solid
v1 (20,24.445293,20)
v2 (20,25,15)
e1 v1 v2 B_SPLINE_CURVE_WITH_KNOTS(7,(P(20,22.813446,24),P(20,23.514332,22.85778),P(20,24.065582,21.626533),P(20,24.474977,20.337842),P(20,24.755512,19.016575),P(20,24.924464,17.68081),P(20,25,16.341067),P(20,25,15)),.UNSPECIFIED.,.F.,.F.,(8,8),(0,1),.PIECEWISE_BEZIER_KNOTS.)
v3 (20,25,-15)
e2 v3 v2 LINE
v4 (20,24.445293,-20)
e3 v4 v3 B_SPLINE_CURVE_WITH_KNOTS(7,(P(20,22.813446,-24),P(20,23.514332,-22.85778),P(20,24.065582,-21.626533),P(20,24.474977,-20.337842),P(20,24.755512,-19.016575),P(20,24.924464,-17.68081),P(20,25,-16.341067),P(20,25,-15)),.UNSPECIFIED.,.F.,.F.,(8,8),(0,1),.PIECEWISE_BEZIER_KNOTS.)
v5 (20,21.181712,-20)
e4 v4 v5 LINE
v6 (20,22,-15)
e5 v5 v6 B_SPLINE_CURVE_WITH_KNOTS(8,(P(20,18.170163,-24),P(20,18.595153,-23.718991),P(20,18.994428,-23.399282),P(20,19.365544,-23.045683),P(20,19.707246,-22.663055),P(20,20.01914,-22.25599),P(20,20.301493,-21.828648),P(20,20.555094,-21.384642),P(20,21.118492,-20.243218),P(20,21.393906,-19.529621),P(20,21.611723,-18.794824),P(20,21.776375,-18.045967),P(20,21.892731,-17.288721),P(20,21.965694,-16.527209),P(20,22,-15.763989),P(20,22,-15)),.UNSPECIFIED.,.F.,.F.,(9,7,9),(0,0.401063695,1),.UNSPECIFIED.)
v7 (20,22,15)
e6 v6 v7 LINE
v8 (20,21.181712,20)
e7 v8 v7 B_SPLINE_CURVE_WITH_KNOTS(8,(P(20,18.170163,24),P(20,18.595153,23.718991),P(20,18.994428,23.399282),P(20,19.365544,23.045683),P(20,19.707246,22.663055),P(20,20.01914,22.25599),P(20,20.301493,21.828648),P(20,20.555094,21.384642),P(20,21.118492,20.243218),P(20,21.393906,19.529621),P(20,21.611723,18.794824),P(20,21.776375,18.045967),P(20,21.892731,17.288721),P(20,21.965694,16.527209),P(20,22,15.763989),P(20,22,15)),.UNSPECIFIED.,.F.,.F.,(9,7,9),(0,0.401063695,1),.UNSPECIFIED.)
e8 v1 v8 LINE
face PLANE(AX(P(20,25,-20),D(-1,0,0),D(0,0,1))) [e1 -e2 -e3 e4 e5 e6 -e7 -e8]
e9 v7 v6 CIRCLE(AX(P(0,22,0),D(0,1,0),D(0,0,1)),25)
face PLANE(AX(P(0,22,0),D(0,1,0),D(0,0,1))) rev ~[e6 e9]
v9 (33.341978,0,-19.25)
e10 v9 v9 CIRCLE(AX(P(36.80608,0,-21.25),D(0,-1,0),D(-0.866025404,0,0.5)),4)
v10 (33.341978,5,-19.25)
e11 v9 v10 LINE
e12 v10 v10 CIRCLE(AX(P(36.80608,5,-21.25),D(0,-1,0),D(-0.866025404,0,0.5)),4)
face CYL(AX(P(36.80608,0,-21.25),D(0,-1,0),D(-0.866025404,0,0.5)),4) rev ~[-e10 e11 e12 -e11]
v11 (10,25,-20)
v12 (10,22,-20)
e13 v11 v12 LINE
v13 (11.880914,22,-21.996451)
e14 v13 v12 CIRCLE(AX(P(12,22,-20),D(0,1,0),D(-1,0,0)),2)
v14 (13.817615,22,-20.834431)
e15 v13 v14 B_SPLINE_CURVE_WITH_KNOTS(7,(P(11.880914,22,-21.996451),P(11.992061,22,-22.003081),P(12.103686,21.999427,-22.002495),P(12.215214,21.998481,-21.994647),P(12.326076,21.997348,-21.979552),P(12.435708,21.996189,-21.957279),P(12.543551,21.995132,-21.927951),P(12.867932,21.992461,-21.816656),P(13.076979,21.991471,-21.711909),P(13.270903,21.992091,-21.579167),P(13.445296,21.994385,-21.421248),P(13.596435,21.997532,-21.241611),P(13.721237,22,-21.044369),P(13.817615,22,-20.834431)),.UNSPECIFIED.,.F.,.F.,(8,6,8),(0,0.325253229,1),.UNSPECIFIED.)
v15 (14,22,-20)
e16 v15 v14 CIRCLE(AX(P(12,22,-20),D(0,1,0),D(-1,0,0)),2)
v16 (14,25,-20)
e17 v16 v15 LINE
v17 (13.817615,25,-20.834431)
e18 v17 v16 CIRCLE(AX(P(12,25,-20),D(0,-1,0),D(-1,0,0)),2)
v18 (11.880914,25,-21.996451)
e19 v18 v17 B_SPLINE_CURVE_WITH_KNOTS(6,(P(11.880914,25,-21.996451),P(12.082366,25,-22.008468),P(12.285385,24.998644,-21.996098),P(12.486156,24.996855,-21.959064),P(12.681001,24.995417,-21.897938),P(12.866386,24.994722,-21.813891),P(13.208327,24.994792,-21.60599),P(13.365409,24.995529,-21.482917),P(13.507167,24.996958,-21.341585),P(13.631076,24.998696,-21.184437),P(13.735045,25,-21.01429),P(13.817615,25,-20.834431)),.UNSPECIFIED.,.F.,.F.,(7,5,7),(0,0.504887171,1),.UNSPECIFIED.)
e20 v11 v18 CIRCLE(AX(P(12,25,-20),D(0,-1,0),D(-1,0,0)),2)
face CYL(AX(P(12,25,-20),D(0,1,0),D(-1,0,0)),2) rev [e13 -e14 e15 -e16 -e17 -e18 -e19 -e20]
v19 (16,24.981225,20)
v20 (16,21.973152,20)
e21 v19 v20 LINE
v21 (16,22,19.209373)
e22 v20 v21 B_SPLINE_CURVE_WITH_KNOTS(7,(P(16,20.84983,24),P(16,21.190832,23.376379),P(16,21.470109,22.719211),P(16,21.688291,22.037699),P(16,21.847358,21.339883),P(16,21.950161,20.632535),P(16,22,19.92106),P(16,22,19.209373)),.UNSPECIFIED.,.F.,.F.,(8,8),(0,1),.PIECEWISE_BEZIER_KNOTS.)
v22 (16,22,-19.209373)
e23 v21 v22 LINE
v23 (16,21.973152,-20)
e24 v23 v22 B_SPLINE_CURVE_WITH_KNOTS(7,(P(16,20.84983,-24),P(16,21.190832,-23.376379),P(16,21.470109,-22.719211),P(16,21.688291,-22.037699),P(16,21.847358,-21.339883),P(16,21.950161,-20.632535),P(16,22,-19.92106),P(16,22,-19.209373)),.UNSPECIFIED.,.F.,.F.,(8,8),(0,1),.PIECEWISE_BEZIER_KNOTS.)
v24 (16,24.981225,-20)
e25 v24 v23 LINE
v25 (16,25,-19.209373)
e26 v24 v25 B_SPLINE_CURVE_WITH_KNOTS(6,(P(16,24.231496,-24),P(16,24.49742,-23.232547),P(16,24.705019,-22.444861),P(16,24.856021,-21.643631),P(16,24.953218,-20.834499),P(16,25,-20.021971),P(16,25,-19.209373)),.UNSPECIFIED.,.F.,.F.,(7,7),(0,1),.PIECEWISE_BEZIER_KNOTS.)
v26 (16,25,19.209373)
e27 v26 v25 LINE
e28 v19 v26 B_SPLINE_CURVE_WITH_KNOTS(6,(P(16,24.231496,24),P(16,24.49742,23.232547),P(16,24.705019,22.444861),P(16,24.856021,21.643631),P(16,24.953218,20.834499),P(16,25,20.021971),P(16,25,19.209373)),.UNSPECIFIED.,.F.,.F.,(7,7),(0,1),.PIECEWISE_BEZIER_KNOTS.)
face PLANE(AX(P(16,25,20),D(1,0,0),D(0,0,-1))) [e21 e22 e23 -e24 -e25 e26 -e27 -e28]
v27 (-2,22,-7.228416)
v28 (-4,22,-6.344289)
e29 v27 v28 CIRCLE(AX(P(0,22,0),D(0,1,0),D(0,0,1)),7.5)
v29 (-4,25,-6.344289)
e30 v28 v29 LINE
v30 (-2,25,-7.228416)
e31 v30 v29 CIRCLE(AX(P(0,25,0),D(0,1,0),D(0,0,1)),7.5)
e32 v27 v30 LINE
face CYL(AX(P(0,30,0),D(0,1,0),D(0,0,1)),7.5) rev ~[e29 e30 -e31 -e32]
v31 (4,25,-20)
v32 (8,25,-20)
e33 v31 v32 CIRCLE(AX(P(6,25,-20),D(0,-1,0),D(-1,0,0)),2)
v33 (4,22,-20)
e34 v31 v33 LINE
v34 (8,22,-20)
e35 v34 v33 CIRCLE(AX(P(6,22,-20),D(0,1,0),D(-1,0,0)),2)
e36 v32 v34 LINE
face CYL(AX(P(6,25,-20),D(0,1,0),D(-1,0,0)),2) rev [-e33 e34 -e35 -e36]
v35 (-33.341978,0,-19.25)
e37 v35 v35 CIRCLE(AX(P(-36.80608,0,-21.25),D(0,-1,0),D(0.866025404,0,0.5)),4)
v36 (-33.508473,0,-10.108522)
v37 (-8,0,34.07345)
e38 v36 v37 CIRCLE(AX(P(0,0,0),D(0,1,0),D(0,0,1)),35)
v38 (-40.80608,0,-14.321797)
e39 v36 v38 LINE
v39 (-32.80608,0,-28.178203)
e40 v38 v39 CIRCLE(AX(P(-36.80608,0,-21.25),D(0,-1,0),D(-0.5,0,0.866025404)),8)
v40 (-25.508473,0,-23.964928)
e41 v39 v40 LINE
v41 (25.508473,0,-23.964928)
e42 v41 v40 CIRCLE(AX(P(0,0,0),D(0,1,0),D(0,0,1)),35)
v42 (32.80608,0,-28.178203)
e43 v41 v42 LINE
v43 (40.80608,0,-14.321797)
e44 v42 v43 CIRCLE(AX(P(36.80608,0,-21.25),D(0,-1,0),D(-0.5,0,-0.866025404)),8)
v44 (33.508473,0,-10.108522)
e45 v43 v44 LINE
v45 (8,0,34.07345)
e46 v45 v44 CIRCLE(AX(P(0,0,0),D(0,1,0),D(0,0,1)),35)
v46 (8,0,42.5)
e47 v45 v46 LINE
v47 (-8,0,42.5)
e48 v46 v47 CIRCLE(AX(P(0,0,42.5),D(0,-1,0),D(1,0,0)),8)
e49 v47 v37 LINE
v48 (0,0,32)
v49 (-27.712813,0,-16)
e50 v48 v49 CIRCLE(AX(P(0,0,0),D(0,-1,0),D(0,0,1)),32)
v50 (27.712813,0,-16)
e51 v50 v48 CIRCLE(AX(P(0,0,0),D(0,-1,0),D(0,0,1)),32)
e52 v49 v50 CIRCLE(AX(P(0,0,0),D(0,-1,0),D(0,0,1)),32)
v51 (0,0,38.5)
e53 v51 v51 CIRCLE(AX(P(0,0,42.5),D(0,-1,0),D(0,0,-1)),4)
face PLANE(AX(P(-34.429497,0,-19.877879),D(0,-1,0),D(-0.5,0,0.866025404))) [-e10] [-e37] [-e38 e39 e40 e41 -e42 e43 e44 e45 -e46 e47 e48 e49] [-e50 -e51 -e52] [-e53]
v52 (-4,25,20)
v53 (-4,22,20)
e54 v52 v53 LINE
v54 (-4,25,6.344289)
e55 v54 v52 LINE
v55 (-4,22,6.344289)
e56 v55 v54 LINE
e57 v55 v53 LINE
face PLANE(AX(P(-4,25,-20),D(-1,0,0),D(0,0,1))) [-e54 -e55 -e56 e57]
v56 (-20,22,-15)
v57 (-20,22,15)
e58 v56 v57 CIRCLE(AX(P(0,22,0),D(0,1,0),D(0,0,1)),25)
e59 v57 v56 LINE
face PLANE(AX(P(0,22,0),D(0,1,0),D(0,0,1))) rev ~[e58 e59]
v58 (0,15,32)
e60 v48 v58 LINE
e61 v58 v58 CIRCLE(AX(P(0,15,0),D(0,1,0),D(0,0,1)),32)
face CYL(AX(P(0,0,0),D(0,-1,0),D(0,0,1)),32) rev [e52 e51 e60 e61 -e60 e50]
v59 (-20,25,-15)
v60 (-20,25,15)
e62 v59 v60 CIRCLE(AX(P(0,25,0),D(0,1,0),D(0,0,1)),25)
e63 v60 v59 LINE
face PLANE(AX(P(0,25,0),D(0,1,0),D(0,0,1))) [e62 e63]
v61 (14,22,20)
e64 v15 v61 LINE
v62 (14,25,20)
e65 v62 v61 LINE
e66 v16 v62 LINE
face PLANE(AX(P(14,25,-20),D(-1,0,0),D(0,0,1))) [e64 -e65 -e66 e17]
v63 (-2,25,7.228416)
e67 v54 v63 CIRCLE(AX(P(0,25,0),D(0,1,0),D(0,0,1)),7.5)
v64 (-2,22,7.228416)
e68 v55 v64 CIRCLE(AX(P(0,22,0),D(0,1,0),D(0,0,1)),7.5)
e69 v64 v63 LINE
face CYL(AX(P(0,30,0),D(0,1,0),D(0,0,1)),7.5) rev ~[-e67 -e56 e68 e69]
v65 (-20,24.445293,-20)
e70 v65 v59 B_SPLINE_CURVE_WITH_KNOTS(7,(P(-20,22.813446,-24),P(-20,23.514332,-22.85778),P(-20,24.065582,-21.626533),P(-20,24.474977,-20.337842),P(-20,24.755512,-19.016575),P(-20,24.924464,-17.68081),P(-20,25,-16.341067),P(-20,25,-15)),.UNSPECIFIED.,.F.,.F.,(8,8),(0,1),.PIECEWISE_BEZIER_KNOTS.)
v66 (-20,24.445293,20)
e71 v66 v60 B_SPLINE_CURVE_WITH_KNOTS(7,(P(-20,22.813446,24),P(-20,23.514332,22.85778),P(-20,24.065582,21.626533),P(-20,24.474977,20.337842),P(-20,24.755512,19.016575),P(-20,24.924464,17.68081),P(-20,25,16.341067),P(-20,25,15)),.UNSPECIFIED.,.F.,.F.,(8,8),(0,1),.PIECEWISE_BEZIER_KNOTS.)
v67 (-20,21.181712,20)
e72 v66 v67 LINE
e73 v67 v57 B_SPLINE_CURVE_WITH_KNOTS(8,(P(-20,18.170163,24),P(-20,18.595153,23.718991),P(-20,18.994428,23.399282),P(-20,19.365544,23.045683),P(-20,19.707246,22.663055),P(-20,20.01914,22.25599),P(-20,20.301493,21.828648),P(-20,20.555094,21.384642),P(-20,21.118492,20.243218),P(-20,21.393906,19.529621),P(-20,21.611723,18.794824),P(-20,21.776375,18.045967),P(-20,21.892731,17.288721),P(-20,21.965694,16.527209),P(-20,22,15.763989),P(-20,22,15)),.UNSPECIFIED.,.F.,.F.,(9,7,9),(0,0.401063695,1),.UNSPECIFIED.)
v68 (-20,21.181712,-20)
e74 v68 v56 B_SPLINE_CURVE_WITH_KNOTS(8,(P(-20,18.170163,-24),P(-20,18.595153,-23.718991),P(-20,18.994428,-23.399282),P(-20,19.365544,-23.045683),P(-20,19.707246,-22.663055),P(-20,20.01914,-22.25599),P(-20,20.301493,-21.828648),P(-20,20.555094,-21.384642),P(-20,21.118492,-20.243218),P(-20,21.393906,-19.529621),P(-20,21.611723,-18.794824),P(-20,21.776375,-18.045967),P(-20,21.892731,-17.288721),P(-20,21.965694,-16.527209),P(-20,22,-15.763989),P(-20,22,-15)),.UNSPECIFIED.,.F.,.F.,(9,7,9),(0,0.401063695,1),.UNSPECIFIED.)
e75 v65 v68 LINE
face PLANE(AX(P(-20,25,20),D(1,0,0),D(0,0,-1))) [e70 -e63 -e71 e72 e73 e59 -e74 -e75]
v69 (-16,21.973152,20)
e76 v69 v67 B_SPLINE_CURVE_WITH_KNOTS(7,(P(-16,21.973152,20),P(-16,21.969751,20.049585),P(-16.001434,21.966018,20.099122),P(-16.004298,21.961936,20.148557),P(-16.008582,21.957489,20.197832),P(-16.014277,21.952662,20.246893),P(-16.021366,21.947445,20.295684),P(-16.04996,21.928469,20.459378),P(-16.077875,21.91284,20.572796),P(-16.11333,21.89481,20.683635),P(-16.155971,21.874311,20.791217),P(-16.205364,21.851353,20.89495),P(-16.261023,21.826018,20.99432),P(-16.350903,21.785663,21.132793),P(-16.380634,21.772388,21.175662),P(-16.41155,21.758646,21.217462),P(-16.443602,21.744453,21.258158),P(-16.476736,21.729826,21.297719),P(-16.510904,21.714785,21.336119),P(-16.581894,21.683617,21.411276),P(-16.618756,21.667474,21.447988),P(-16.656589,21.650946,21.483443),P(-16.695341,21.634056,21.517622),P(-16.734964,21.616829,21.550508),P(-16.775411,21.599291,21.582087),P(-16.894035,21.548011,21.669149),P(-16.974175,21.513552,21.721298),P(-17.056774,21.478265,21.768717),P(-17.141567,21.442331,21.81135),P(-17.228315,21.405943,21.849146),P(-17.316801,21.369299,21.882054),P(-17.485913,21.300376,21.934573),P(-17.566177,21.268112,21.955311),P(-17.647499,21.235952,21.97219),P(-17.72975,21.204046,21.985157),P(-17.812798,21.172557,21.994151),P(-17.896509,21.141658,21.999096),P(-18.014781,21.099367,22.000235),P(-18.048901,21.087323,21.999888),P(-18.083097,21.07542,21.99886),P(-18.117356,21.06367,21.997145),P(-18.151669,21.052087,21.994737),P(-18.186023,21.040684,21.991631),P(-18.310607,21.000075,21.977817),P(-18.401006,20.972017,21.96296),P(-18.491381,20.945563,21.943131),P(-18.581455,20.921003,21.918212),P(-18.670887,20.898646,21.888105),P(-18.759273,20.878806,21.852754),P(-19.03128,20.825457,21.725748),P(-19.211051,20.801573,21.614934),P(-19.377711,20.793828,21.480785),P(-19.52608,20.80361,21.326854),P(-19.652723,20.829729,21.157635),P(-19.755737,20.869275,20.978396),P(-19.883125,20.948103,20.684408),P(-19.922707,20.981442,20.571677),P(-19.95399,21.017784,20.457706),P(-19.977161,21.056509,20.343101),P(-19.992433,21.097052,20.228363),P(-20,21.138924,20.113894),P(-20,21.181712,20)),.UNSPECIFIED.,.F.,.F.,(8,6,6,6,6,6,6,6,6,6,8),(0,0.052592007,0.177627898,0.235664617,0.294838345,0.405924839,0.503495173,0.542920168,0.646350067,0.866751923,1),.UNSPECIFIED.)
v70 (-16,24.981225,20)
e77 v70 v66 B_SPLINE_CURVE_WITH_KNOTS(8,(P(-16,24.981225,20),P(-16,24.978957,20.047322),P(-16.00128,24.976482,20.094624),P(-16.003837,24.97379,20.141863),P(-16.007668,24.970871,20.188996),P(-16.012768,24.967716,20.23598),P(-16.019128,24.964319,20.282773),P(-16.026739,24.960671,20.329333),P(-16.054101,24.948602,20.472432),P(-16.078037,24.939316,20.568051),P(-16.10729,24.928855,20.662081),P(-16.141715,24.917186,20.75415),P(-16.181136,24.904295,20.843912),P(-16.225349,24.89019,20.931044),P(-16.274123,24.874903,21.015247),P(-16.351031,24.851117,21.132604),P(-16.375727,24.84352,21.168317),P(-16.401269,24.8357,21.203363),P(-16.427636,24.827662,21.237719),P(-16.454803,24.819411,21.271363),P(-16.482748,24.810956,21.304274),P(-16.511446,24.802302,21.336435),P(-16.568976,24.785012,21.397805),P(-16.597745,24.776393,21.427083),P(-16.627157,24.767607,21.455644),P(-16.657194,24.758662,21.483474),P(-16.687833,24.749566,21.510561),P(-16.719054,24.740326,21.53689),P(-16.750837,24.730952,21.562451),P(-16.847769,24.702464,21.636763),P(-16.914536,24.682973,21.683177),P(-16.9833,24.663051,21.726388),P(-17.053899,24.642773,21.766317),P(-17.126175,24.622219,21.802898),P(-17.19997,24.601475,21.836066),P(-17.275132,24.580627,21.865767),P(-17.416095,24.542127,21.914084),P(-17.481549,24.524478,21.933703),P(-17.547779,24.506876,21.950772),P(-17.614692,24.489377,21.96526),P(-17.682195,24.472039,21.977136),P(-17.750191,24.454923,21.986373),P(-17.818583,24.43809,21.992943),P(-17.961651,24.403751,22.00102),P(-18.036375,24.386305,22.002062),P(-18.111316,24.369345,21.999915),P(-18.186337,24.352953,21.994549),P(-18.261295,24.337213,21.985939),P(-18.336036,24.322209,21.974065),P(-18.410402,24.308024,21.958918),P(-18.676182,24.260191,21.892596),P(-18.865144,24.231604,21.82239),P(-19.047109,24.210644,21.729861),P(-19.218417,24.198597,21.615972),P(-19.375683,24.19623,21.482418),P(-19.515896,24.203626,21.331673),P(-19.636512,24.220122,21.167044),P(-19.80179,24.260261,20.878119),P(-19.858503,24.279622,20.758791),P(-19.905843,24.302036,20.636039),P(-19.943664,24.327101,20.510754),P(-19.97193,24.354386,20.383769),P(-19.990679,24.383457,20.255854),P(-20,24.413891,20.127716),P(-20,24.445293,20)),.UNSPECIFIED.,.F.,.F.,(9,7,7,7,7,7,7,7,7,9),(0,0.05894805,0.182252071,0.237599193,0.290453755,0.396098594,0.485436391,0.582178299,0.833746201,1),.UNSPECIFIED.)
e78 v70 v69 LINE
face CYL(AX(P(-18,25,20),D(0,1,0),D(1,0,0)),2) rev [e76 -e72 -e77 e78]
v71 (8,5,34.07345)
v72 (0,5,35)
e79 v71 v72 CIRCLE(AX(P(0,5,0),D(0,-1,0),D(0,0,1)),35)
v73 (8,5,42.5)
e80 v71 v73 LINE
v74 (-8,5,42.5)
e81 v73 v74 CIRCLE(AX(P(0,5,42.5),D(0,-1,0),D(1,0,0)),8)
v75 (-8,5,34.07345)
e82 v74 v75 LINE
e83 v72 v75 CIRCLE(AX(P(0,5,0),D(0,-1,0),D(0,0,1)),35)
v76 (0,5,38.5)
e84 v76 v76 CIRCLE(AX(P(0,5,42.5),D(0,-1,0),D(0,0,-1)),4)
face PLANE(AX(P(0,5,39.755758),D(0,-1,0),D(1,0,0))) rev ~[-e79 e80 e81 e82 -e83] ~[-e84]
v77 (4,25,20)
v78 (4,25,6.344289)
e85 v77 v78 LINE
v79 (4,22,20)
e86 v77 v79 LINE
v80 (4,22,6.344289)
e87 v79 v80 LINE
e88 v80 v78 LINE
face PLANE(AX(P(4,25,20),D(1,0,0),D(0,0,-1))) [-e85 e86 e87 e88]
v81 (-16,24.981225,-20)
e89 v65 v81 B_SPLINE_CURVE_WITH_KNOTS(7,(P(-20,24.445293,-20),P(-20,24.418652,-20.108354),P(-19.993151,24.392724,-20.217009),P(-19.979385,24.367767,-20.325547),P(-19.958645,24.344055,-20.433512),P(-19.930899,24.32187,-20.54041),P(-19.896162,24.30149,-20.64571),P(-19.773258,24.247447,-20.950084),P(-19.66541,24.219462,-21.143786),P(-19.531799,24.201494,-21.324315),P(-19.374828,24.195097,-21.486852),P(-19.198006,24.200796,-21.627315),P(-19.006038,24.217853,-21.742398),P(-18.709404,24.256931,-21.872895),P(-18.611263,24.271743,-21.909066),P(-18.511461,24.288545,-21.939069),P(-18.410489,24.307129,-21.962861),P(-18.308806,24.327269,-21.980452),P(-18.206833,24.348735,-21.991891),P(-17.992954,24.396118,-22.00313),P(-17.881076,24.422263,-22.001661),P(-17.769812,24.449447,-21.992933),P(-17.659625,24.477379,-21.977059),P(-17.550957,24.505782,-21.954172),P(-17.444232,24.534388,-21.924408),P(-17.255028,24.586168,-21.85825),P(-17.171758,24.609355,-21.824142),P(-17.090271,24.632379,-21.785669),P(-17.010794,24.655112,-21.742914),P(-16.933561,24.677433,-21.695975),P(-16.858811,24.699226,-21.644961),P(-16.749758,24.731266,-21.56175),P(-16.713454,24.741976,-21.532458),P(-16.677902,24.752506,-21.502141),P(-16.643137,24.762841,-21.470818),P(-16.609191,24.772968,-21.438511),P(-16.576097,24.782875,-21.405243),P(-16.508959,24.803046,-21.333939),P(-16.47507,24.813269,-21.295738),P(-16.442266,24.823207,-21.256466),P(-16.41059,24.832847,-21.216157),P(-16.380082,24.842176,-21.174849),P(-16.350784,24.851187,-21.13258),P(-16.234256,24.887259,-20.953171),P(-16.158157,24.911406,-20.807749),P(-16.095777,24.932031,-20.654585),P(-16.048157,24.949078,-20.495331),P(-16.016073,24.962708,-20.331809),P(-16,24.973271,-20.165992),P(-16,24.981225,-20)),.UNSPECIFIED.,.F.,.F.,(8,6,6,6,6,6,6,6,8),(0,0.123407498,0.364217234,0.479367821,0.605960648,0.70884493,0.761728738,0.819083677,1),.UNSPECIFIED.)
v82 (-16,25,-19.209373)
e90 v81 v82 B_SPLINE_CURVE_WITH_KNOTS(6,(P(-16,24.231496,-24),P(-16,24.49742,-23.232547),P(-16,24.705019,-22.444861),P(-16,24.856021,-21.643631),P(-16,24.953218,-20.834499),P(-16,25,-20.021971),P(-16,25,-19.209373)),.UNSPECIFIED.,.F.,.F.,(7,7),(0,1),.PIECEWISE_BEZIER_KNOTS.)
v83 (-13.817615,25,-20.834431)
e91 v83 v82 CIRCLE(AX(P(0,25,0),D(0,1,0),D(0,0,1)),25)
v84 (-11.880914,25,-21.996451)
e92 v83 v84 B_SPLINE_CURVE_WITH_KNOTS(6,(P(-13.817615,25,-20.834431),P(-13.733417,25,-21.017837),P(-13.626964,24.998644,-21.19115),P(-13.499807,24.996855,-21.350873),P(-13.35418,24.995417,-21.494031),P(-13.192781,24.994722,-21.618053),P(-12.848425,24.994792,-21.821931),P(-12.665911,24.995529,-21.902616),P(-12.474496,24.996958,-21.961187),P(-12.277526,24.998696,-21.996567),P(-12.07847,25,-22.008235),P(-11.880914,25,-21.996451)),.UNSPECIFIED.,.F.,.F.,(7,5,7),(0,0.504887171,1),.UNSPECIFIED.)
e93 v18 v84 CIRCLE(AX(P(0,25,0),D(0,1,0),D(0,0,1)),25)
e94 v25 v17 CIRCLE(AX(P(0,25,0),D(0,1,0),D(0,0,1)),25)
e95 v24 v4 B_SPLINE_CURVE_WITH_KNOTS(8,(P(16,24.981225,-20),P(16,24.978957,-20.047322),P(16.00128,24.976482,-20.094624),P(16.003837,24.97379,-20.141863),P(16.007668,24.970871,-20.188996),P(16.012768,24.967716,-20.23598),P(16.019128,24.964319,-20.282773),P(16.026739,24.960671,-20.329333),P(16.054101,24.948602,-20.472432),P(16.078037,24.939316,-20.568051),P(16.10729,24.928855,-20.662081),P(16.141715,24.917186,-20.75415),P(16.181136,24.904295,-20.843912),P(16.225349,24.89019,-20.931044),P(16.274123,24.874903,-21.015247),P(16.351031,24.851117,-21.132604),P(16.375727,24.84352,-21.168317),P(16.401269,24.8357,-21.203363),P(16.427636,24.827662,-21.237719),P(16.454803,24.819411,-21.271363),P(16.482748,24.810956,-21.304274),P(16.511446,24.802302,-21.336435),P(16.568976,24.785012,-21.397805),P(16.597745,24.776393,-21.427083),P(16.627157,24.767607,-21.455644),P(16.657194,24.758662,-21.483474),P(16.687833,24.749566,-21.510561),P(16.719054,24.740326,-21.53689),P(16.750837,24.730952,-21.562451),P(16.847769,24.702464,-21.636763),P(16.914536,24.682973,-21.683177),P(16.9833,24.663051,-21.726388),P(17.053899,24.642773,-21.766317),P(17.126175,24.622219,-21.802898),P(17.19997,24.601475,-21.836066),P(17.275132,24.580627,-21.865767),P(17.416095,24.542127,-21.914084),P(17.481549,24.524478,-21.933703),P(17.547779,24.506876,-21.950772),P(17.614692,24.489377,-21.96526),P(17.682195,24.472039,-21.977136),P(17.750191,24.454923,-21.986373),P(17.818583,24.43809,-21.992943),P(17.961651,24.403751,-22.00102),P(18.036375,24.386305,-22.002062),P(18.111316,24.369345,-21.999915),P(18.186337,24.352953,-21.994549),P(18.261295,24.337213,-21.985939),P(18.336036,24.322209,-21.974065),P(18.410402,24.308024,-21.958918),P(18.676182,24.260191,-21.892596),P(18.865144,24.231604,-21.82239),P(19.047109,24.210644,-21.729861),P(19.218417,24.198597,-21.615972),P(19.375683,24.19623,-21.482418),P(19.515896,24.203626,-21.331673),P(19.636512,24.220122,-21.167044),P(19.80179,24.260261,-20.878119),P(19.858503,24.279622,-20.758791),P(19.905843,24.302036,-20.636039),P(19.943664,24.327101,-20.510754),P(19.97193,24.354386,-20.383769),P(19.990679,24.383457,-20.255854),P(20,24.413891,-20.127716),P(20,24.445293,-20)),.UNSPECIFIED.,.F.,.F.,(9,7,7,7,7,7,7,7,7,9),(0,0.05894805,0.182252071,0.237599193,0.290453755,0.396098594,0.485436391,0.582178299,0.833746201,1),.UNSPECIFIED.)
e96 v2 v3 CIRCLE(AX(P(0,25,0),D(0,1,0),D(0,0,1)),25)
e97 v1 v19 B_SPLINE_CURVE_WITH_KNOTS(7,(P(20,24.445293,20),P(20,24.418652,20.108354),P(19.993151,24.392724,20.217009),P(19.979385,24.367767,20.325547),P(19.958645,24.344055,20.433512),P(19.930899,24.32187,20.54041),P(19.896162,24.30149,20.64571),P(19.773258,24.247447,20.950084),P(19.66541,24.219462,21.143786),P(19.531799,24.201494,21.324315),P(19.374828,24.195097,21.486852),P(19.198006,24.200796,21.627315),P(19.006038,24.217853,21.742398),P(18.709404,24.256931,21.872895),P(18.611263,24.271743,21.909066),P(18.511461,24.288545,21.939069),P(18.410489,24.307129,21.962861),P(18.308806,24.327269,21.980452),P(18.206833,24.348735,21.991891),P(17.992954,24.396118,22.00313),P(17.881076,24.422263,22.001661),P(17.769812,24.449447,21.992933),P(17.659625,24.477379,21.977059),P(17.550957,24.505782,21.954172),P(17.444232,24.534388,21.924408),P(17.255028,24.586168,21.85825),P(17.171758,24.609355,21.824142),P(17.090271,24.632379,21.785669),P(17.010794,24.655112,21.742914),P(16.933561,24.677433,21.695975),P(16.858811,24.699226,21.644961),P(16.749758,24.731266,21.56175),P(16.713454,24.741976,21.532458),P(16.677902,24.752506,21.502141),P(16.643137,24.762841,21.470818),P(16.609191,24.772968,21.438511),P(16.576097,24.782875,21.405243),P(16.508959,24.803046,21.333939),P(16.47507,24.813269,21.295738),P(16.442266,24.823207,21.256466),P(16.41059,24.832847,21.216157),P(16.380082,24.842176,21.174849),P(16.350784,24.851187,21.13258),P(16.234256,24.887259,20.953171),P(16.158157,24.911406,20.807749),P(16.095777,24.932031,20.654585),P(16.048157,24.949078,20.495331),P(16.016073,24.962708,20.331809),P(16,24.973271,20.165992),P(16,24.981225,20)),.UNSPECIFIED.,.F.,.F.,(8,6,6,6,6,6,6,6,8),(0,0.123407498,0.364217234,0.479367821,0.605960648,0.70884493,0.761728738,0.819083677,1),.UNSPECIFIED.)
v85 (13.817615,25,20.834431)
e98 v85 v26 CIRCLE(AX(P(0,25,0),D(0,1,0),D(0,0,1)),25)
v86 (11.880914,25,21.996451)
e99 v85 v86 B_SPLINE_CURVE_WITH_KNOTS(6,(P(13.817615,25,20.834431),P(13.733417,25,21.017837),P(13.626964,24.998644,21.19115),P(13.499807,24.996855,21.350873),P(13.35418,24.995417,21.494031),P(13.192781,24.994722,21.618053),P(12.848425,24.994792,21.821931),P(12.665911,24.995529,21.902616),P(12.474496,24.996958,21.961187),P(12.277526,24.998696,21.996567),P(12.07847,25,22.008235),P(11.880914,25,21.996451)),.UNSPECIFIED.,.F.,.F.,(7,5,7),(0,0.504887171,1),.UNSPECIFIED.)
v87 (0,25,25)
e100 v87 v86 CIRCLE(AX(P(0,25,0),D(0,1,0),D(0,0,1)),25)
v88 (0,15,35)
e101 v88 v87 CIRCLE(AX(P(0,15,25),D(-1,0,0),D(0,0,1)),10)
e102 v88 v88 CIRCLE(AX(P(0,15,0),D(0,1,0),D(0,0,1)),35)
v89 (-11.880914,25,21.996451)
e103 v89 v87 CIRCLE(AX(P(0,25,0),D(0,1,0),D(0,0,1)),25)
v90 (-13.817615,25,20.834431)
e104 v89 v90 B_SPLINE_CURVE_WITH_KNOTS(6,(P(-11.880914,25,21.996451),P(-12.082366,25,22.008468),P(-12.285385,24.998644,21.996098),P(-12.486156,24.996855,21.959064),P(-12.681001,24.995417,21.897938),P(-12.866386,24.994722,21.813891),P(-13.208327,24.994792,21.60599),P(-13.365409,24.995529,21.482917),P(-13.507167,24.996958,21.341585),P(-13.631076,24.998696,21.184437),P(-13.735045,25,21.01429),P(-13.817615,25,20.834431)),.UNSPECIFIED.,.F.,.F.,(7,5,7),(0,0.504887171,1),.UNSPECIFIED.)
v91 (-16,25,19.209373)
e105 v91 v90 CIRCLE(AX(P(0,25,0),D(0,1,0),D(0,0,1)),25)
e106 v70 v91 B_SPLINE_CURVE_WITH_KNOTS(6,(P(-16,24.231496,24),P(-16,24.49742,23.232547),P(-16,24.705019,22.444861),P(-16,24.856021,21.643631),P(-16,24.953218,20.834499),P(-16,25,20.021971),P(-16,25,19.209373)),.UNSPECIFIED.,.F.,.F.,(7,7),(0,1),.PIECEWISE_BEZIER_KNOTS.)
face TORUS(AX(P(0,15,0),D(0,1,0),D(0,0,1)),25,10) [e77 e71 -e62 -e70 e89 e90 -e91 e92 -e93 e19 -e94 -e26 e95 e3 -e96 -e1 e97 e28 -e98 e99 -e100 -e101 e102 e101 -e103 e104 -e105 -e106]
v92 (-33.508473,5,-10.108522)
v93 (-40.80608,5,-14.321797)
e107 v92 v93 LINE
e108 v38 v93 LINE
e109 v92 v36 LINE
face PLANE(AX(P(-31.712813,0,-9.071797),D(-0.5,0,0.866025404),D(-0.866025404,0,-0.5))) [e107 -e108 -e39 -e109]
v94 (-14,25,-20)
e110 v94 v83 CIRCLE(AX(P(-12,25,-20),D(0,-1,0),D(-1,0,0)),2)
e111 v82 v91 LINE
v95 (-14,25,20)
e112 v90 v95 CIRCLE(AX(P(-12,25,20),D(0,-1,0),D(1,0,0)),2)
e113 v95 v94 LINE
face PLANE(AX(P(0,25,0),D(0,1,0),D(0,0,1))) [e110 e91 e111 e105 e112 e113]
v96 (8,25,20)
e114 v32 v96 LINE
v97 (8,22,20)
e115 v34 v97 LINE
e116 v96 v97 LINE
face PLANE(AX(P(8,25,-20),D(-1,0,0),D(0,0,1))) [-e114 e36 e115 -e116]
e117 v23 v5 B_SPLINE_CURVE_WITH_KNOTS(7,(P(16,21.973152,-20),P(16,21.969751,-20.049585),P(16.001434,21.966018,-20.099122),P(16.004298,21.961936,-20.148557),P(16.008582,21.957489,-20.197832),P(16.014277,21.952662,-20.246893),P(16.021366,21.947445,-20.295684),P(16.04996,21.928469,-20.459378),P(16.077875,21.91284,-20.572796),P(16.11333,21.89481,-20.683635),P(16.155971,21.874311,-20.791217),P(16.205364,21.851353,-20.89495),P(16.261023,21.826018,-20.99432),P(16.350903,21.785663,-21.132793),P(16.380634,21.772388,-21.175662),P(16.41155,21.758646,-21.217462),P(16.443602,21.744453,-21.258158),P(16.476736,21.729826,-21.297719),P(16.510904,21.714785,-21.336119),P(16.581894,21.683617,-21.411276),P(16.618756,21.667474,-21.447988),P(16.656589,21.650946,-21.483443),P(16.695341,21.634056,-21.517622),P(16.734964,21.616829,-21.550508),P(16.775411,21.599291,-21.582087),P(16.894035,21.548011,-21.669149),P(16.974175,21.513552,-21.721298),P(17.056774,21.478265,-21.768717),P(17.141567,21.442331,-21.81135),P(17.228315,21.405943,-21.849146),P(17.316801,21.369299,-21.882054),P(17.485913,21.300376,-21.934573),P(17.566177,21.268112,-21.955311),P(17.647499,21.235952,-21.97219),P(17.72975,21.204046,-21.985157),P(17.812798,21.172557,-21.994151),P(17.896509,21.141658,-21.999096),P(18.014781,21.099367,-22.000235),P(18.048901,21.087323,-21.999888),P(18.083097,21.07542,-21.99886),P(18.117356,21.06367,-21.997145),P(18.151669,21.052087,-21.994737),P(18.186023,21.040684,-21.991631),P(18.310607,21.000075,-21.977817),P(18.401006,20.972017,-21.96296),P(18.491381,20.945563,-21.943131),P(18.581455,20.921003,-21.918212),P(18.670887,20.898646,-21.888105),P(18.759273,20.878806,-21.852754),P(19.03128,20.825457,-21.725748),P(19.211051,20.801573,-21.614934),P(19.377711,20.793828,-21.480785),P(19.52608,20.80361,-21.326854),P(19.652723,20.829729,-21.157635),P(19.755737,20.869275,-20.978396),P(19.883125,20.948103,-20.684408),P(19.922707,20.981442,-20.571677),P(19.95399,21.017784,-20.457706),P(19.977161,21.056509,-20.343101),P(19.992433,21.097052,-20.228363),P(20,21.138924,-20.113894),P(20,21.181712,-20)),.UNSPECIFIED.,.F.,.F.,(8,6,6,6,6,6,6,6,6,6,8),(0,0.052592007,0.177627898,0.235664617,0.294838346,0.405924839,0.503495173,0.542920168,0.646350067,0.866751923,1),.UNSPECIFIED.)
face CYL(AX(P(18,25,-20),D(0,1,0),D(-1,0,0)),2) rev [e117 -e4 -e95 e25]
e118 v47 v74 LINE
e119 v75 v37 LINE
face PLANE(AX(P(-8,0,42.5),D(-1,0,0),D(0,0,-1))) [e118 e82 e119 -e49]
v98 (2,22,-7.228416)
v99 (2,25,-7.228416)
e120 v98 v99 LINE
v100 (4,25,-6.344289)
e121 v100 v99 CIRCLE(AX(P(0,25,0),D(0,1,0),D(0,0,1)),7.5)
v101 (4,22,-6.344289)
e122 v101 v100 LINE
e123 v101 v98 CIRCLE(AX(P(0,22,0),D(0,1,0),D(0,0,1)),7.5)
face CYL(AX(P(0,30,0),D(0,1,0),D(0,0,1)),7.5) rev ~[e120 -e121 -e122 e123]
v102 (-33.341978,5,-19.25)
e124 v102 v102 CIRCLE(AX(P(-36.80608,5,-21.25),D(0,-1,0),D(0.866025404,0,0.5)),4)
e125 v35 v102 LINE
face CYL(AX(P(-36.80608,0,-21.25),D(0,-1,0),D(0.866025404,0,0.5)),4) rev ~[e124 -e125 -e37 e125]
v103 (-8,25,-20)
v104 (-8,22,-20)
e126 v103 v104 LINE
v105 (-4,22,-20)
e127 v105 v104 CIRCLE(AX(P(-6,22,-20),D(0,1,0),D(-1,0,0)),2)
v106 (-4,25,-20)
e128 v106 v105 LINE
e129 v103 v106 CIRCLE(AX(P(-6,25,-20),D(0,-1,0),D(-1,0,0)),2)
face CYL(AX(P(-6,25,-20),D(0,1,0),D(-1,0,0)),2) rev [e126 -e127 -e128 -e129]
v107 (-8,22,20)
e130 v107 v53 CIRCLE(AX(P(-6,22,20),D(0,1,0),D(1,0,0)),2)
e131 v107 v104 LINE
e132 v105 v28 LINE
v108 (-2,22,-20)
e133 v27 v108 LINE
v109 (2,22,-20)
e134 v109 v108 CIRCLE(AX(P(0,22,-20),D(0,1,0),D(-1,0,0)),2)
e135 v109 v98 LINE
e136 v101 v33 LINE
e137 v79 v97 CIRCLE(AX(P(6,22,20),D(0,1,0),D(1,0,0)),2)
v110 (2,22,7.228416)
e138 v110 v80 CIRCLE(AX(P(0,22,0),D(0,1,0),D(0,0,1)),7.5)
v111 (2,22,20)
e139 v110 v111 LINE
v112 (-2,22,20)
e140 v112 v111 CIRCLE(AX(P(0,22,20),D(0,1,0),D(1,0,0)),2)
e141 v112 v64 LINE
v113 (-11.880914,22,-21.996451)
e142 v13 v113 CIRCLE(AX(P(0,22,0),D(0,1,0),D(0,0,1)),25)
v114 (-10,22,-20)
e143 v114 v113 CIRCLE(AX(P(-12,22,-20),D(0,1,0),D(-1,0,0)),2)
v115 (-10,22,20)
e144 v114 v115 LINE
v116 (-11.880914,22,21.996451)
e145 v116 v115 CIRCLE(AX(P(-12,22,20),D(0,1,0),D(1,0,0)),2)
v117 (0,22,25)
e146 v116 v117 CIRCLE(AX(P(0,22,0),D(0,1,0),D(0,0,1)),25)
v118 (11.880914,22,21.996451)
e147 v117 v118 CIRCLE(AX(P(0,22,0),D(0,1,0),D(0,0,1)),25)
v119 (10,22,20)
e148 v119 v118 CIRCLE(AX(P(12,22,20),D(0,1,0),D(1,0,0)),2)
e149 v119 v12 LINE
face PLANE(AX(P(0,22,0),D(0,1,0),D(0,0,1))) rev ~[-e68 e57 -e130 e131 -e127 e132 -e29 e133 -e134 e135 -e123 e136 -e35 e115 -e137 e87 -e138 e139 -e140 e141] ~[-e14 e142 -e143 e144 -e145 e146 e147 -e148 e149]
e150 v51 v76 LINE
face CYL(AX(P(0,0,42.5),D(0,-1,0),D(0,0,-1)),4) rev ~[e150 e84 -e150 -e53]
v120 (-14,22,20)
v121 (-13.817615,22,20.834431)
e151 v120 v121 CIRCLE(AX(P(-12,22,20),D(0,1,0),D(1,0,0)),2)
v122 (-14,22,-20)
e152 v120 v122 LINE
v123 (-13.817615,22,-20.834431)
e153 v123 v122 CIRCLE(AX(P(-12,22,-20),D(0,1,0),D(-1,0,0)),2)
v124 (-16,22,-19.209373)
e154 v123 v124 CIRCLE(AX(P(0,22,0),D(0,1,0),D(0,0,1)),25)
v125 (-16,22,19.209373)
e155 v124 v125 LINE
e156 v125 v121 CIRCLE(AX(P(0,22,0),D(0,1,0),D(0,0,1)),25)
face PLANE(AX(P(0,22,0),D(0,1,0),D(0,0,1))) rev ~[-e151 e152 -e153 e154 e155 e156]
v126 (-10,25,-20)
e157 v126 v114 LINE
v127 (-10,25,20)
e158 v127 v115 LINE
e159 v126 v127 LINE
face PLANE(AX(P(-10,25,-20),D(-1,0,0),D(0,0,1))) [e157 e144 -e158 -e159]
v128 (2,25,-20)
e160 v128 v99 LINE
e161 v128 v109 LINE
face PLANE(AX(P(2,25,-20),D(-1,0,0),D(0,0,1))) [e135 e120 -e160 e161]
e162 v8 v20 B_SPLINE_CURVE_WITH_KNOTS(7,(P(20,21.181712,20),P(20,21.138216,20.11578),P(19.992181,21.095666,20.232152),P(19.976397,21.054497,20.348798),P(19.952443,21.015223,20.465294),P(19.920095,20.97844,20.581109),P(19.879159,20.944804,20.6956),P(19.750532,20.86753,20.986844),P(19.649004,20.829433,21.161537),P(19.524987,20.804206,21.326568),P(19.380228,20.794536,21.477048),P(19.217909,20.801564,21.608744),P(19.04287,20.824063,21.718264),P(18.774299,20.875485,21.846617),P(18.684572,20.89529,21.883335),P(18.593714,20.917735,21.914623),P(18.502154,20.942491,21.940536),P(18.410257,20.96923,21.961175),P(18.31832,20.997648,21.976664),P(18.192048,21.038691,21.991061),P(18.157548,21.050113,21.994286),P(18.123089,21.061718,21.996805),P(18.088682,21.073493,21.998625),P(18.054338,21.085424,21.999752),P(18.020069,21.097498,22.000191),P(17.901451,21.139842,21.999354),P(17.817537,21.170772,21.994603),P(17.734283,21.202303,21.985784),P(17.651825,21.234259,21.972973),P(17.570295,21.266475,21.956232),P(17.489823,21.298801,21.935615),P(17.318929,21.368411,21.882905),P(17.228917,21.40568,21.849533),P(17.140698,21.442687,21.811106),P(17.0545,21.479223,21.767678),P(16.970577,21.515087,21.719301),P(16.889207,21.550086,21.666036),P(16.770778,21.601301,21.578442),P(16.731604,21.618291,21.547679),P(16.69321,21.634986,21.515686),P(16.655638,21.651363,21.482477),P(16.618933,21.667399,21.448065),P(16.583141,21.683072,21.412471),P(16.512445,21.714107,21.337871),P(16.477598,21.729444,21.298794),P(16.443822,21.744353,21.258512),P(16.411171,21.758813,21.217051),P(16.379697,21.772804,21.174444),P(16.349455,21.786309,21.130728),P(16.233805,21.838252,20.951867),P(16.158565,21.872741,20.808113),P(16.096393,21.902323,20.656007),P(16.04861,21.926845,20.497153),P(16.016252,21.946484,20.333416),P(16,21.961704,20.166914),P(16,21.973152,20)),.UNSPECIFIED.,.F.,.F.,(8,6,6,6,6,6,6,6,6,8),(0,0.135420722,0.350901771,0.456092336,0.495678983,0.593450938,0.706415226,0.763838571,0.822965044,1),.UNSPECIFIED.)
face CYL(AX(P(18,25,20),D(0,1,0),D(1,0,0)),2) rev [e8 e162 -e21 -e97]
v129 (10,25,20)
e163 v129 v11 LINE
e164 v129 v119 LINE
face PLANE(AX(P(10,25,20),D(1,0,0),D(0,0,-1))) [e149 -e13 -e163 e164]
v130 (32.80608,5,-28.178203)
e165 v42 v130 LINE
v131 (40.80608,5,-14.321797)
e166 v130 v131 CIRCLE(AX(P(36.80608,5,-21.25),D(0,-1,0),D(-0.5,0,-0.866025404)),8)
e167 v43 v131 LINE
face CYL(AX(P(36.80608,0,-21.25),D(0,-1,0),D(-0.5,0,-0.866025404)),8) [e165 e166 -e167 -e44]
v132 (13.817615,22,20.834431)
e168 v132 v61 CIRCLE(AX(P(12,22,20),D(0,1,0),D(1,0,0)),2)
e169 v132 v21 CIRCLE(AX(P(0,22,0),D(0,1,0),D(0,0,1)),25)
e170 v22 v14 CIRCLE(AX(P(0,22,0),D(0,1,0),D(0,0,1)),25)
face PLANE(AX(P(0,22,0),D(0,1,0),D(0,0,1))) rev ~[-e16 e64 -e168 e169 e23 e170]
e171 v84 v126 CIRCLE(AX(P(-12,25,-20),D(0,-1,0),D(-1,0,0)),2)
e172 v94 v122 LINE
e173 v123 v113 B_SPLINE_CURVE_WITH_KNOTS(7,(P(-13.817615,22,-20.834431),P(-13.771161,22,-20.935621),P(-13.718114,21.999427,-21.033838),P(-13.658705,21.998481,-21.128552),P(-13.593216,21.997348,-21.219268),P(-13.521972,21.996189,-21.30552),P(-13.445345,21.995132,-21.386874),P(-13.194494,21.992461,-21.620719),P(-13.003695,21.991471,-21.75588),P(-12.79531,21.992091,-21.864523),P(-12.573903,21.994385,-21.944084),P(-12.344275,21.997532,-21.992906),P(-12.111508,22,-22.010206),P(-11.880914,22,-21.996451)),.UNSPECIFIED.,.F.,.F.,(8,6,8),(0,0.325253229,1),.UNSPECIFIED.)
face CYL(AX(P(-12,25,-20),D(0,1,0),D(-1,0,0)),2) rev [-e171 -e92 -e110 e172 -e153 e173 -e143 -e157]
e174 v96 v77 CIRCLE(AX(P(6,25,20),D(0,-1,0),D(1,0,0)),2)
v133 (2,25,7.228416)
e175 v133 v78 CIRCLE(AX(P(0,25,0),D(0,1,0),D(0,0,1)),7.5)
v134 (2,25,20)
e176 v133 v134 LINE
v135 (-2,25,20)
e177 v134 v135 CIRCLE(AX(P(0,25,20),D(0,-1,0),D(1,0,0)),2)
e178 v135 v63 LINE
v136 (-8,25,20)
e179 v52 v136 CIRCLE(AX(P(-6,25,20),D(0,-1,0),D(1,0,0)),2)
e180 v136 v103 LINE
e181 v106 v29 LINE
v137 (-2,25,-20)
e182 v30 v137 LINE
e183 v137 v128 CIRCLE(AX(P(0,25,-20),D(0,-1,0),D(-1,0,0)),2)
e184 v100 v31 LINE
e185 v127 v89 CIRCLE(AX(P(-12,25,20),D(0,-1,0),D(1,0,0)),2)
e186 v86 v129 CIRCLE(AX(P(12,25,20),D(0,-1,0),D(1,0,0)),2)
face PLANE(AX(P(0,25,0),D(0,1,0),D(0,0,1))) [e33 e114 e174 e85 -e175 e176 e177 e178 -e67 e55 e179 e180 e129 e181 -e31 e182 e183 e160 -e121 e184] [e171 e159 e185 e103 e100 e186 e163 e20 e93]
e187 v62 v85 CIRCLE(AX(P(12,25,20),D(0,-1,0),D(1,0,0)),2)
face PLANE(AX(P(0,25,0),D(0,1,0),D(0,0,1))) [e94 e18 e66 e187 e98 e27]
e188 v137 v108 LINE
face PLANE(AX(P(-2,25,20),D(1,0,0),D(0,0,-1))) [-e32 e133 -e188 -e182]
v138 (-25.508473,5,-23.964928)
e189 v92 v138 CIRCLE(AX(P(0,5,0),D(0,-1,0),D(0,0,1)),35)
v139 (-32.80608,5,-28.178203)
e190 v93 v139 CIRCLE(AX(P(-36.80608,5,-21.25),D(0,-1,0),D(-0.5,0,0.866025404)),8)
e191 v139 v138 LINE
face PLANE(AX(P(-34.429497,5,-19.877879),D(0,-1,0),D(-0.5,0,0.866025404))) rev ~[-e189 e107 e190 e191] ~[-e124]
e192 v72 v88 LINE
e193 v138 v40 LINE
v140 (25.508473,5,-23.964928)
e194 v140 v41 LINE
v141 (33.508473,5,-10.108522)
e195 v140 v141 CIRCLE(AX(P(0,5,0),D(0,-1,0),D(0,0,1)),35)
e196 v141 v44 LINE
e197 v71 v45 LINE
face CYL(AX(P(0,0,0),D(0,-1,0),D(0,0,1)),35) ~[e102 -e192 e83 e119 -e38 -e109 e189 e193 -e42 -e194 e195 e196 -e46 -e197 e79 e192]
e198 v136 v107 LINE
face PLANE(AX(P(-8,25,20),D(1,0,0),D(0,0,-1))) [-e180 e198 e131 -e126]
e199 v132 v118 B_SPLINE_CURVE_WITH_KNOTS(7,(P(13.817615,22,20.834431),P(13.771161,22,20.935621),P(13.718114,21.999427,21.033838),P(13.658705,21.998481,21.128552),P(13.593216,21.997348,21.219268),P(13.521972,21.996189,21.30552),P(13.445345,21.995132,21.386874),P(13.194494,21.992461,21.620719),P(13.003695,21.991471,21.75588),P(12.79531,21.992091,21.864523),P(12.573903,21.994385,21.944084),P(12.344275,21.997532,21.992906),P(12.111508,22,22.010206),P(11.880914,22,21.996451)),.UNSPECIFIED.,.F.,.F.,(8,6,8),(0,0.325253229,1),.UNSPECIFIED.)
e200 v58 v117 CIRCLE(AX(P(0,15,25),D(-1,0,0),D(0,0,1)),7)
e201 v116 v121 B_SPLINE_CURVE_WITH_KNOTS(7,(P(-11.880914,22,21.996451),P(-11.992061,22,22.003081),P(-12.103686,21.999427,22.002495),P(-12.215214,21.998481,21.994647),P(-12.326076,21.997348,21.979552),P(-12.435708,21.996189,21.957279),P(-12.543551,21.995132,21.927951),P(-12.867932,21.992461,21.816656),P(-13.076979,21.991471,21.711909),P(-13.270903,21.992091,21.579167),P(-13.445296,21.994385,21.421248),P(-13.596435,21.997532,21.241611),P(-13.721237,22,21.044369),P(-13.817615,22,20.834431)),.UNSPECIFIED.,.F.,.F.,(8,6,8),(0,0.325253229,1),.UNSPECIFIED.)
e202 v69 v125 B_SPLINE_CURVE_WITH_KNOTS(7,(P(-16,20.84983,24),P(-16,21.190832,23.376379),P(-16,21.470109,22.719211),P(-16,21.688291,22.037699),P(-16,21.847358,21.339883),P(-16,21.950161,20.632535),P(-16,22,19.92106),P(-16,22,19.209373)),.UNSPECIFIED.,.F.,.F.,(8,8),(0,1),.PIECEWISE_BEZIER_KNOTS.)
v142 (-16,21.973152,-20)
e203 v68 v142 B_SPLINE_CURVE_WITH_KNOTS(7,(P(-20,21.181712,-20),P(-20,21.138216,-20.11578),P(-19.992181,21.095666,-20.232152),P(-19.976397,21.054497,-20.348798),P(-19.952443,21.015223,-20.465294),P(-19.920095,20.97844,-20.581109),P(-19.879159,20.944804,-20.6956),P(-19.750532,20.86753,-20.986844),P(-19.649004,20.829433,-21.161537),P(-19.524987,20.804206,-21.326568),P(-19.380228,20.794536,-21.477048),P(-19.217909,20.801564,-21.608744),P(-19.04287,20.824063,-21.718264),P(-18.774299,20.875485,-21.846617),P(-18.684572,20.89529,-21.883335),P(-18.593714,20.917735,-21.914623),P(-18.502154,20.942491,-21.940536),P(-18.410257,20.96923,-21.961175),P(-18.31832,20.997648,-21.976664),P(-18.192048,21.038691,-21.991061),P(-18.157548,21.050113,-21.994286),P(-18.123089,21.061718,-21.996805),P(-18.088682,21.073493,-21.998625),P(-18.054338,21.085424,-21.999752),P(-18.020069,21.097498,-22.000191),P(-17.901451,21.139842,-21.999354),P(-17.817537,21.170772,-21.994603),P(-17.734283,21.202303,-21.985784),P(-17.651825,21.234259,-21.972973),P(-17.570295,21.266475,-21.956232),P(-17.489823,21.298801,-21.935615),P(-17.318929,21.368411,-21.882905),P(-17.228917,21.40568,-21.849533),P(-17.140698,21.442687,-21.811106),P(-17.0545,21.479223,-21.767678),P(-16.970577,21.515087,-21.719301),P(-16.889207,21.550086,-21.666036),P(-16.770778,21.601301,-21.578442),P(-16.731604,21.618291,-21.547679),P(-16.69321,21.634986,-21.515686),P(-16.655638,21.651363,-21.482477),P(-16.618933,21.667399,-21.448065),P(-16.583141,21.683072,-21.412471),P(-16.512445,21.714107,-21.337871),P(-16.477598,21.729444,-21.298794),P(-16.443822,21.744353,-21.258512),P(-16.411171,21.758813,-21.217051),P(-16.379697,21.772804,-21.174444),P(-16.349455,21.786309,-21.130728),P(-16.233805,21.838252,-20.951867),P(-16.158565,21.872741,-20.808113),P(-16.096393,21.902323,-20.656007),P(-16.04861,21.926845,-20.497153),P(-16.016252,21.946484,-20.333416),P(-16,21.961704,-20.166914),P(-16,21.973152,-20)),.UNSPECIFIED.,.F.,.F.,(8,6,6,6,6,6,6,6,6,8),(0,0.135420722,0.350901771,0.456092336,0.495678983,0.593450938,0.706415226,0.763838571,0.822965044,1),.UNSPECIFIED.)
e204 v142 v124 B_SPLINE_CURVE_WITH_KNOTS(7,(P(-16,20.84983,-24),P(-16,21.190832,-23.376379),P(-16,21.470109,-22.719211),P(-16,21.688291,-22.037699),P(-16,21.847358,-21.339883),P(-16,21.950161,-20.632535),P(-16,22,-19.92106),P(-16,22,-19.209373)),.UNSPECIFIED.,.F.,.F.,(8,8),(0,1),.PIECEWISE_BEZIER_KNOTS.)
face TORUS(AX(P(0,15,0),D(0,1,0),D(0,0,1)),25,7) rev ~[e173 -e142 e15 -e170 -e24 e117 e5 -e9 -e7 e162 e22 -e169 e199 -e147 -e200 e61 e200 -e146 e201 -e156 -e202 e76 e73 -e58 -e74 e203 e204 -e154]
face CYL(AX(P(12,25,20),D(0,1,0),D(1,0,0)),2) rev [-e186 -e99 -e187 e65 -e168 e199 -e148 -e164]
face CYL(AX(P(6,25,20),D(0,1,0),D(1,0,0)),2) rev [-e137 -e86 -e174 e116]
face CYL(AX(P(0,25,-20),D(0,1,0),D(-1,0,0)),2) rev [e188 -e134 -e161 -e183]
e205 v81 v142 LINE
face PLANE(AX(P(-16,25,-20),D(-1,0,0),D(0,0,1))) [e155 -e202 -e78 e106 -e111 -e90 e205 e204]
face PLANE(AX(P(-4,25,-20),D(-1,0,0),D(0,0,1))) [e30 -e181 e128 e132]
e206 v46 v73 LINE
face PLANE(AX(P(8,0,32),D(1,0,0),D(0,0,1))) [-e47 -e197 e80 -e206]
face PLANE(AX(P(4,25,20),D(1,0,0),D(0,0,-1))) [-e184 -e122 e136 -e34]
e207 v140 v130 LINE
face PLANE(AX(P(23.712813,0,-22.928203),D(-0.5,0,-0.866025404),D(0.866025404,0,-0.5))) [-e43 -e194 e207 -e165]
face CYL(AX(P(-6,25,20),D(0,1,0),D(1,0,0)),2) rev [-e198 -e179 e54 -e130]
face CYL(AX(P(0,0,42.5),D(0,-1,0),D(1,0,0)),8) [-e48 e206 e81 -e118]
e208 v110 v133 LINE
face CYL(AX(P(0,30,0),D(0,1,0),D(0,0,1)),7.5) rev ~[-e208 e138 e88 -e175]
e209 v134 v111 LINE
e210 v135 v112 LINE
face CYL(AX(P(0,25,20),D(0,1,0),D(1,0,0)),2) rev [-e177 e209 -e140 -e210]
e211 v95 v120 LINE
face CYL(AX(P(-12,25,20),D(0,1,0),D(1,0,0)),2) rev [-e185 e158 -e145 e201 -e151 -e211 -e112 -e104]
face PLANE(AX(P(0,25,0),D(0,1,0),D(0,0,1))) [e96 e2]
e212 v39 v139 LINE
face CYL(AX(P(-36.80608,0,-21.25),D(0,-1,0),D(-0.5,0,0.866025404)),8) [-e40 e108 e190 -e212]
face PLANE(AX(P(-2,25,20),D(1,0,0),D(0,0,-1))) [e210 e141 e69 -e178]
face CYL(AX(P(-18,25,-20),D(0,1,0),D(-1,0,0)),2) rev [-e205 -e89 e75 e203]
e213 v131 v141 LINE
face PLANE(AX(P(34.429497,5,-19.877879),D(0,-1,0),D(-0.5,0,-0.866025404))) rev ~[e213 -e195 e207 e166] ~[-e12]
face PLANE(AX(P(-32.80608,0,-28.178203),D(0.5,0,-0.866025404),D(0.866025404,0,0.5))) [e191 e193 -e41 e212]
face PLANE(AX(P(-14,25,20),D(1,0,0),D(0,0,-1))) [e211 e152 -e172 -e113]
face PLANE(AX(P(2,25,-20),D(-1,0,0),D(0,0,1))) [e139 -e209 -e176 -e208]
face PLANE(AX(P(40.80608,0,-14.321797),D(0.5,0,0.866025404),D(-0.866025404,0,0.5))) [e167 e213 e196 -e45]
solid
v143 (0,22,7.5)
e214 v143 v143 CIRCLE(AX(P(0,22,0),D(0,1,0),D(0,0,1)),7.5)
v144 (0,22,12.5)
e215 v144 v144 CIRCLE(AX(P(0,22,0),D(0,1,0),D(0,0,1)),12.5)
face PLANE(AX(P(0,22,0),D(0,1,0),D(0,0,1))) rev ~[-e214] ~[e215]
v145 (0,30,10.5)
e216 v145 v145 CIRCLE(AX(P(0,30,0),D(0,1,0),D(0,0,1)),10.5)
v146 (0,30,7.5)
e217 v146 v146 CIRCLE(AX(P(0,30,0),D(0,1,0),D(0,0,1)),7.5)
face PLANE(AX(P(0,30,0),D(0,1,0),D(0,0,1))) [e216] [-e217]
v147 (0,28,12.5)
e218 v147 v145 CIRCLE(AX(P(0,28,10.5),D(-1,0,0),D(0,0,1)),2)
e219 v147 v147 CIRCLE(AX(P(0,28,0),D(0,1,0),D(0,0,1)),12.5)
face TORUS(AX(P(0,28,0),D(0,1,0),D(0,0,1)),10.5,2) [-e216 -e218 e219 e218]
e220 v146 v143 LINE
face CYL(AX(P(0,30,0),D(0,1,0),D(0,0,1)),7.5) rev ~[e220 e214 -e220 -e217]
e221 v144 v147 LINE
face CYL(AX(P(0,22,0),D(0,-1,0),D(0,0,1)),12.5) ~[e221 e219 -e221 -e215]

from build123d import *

# Parameters (mm, degrees)
SKETCH1_R                = 35
BOSS_EXTRUDE1_DEPTH      = 25
FILLET1_R                = 10
SHELL1_T                 = -3
SKETCH2_R                = 4
BOSS_EXTRUDE2_DEPTH      = 5
CIRPATTERN1_COUNT        = 3
CUT_EXTRUDE1_DEPTH       = 72.991907702
LPATTERN1_COUNT          = 7
LPATTERN1_PITCH          = 6
BOSS_EXTRUDE3_DEPTH      = 5
BOSS_EXTRUDE3_DEPTH_BACK = 3
SKETCH6_R                = 12.5
FILLET2_R                = 2
SKETCH7_R                = 7.5
CUT_EXTRUDE2_DEPTH       = 74.877160033


with BuildPart() as part:
    # Sketch1 → Boss-Extrude1 (new body)
    with BuildSketch(Plane(origin=(0, 0, 0), x_dir=(1, 0, 0), z_dir=(0, 1, 0))):
        with Locations(Location((0, 0, 0), (0, 0, 270))):
            Circle(SKETCH1_R)
    extrude(amount=BOSS_EXTRUDE1_DEPTH)

    # Fillet1
    fillet1_edges = [part.edges().sort_by_distance(p)[0] for p in [
        (0, 25, -35),
    ]]
    fillet(fillet1_edges, radius=FILLET1_R)

    # Shell1
    shell1_openings = [part.faces().sort_by_distance(p)[0] for p in [
        (0, 0, 0),
    ]]
    offset(amount=SHELL1_T, openings=shell1_openings, kind=Kind.INTERSECTION)

    # Sketch2 → Boss-Extrude2 (add)
    with BuildSketch(Plane.XZ):
        with BuildLine():
            Line((-8, 42.5), (-8, 32))
            Line((-8, 32), (8, 32))
            Line((8, 32), (8, 42.5))
            ThreePointArc((8, 42.5), (0, 50.5), (-8, 42.5))
        make_face()
        with Locations(Location((0, 42.5, 0), (0, 0, 270))):
            Circle(SKETCH2_R, mode=Mode.SUBTRACT)
    boss_extrude2 = extrude(amount=-BOSS_EXTRUDE2_DEPTH)

    # CirPattern1: Boss-Extrude2 ×3 about axis
    cirpattern1_axis = Axis((0, 0, 0), (0, 1, 0))
    for i in range(1, CIRPATTERN1_COUNT):
        add(boss_extrude2.rotate(cirpattern1_axis, i * 360 / CIRPATTERN1_COUNT))

    # Sketch3 → Cut-Extrude1 (cut, through all)
    with BuildSketch(Plane(origin=(0, 25, 0), x_dir=(1, 0, 0), z_dir=(0, 1, 0))):
        with BuildLine():
            Line((-16, 20), (-16, -20))
            ThreePointArc((-16, -20), (-18, -22), (-20, -20))
            Line((-20, -20), (-20, 20))
            ThreePointArc((-20, 20), (-18, 22), (-16, 20))
        make_face()
    cut_extrude1 = extrude(amount=-CUT_EXTRUDE1_DEPTH, mode=Mode.SUBTRACT)

    # LPattern1: Cut-Extrude1 ×7
    with Locations(*[(i * LPATTERN1_PITCH, 0, 0) for i in range(1, LPATTERN1_COUNT)]):
        add(cut_extrude1, mode=Mode.SUBTRACT)


with BuildPart() as body_2:
    # Sketch6 → Boss-Extrude3 (new, two sides: drawn at the far end of the back side and taken through both)
    with BuildSketch(Plane(origin=(0, 25, 0), x_dir=(1, 0, 0), z_dir=(0, 1, 0)).offset(-BOSS_EXTRUDE3_DEPTH_BACK)):
        with Locations(Location((0, 0, 0), (0, 0, 270))):
            Circle(SKETCH6_R)
    extrude(amount=BOSS_EXTRUDE3_DEPTH + BOSS_EXTRUDE3_DEPTH_BACK)

    # Fillet2
    fillet2_edges = [body_2.edges().sort_by_distance(p)[0] for p in [
        (0, 30, -12.5),
    ]]
    fillet(fillet2_edges, radius=FILLET2_R)


with BuildPart() as cut_extrude2_tool:
    # Sketch7 → Cut-Extrude2 (new, through all)
    with BuildSketch(Plane(origin=(0, 30, 0), x_dir=(1, 0, 0), z_dir=(0, 1, 0))):
        with Locations(Location((0, 0, 0), (0, 0, 270))):
            Circle(SKETCH7_R)
    extrude(amount=-CUT_EXTRUDE2_DEPTH)


with BuildPart() as part_1:
    add(part.part)

    # Cut-Extrude2: cut by cut_extrude2_tool
    add(cut_extrude2_tool.part, mode=Mode.SUBTRACT)


with BuildPart() as body_2_1:
    add(body_2.part)

    # Cut-Extrude2: cut by cut_extrude2_tool
    add(cut_extrude2_tool.part, mode=Mode.SUBTRACT)


solid = Compound([part_1.part, body_2_1.part])
